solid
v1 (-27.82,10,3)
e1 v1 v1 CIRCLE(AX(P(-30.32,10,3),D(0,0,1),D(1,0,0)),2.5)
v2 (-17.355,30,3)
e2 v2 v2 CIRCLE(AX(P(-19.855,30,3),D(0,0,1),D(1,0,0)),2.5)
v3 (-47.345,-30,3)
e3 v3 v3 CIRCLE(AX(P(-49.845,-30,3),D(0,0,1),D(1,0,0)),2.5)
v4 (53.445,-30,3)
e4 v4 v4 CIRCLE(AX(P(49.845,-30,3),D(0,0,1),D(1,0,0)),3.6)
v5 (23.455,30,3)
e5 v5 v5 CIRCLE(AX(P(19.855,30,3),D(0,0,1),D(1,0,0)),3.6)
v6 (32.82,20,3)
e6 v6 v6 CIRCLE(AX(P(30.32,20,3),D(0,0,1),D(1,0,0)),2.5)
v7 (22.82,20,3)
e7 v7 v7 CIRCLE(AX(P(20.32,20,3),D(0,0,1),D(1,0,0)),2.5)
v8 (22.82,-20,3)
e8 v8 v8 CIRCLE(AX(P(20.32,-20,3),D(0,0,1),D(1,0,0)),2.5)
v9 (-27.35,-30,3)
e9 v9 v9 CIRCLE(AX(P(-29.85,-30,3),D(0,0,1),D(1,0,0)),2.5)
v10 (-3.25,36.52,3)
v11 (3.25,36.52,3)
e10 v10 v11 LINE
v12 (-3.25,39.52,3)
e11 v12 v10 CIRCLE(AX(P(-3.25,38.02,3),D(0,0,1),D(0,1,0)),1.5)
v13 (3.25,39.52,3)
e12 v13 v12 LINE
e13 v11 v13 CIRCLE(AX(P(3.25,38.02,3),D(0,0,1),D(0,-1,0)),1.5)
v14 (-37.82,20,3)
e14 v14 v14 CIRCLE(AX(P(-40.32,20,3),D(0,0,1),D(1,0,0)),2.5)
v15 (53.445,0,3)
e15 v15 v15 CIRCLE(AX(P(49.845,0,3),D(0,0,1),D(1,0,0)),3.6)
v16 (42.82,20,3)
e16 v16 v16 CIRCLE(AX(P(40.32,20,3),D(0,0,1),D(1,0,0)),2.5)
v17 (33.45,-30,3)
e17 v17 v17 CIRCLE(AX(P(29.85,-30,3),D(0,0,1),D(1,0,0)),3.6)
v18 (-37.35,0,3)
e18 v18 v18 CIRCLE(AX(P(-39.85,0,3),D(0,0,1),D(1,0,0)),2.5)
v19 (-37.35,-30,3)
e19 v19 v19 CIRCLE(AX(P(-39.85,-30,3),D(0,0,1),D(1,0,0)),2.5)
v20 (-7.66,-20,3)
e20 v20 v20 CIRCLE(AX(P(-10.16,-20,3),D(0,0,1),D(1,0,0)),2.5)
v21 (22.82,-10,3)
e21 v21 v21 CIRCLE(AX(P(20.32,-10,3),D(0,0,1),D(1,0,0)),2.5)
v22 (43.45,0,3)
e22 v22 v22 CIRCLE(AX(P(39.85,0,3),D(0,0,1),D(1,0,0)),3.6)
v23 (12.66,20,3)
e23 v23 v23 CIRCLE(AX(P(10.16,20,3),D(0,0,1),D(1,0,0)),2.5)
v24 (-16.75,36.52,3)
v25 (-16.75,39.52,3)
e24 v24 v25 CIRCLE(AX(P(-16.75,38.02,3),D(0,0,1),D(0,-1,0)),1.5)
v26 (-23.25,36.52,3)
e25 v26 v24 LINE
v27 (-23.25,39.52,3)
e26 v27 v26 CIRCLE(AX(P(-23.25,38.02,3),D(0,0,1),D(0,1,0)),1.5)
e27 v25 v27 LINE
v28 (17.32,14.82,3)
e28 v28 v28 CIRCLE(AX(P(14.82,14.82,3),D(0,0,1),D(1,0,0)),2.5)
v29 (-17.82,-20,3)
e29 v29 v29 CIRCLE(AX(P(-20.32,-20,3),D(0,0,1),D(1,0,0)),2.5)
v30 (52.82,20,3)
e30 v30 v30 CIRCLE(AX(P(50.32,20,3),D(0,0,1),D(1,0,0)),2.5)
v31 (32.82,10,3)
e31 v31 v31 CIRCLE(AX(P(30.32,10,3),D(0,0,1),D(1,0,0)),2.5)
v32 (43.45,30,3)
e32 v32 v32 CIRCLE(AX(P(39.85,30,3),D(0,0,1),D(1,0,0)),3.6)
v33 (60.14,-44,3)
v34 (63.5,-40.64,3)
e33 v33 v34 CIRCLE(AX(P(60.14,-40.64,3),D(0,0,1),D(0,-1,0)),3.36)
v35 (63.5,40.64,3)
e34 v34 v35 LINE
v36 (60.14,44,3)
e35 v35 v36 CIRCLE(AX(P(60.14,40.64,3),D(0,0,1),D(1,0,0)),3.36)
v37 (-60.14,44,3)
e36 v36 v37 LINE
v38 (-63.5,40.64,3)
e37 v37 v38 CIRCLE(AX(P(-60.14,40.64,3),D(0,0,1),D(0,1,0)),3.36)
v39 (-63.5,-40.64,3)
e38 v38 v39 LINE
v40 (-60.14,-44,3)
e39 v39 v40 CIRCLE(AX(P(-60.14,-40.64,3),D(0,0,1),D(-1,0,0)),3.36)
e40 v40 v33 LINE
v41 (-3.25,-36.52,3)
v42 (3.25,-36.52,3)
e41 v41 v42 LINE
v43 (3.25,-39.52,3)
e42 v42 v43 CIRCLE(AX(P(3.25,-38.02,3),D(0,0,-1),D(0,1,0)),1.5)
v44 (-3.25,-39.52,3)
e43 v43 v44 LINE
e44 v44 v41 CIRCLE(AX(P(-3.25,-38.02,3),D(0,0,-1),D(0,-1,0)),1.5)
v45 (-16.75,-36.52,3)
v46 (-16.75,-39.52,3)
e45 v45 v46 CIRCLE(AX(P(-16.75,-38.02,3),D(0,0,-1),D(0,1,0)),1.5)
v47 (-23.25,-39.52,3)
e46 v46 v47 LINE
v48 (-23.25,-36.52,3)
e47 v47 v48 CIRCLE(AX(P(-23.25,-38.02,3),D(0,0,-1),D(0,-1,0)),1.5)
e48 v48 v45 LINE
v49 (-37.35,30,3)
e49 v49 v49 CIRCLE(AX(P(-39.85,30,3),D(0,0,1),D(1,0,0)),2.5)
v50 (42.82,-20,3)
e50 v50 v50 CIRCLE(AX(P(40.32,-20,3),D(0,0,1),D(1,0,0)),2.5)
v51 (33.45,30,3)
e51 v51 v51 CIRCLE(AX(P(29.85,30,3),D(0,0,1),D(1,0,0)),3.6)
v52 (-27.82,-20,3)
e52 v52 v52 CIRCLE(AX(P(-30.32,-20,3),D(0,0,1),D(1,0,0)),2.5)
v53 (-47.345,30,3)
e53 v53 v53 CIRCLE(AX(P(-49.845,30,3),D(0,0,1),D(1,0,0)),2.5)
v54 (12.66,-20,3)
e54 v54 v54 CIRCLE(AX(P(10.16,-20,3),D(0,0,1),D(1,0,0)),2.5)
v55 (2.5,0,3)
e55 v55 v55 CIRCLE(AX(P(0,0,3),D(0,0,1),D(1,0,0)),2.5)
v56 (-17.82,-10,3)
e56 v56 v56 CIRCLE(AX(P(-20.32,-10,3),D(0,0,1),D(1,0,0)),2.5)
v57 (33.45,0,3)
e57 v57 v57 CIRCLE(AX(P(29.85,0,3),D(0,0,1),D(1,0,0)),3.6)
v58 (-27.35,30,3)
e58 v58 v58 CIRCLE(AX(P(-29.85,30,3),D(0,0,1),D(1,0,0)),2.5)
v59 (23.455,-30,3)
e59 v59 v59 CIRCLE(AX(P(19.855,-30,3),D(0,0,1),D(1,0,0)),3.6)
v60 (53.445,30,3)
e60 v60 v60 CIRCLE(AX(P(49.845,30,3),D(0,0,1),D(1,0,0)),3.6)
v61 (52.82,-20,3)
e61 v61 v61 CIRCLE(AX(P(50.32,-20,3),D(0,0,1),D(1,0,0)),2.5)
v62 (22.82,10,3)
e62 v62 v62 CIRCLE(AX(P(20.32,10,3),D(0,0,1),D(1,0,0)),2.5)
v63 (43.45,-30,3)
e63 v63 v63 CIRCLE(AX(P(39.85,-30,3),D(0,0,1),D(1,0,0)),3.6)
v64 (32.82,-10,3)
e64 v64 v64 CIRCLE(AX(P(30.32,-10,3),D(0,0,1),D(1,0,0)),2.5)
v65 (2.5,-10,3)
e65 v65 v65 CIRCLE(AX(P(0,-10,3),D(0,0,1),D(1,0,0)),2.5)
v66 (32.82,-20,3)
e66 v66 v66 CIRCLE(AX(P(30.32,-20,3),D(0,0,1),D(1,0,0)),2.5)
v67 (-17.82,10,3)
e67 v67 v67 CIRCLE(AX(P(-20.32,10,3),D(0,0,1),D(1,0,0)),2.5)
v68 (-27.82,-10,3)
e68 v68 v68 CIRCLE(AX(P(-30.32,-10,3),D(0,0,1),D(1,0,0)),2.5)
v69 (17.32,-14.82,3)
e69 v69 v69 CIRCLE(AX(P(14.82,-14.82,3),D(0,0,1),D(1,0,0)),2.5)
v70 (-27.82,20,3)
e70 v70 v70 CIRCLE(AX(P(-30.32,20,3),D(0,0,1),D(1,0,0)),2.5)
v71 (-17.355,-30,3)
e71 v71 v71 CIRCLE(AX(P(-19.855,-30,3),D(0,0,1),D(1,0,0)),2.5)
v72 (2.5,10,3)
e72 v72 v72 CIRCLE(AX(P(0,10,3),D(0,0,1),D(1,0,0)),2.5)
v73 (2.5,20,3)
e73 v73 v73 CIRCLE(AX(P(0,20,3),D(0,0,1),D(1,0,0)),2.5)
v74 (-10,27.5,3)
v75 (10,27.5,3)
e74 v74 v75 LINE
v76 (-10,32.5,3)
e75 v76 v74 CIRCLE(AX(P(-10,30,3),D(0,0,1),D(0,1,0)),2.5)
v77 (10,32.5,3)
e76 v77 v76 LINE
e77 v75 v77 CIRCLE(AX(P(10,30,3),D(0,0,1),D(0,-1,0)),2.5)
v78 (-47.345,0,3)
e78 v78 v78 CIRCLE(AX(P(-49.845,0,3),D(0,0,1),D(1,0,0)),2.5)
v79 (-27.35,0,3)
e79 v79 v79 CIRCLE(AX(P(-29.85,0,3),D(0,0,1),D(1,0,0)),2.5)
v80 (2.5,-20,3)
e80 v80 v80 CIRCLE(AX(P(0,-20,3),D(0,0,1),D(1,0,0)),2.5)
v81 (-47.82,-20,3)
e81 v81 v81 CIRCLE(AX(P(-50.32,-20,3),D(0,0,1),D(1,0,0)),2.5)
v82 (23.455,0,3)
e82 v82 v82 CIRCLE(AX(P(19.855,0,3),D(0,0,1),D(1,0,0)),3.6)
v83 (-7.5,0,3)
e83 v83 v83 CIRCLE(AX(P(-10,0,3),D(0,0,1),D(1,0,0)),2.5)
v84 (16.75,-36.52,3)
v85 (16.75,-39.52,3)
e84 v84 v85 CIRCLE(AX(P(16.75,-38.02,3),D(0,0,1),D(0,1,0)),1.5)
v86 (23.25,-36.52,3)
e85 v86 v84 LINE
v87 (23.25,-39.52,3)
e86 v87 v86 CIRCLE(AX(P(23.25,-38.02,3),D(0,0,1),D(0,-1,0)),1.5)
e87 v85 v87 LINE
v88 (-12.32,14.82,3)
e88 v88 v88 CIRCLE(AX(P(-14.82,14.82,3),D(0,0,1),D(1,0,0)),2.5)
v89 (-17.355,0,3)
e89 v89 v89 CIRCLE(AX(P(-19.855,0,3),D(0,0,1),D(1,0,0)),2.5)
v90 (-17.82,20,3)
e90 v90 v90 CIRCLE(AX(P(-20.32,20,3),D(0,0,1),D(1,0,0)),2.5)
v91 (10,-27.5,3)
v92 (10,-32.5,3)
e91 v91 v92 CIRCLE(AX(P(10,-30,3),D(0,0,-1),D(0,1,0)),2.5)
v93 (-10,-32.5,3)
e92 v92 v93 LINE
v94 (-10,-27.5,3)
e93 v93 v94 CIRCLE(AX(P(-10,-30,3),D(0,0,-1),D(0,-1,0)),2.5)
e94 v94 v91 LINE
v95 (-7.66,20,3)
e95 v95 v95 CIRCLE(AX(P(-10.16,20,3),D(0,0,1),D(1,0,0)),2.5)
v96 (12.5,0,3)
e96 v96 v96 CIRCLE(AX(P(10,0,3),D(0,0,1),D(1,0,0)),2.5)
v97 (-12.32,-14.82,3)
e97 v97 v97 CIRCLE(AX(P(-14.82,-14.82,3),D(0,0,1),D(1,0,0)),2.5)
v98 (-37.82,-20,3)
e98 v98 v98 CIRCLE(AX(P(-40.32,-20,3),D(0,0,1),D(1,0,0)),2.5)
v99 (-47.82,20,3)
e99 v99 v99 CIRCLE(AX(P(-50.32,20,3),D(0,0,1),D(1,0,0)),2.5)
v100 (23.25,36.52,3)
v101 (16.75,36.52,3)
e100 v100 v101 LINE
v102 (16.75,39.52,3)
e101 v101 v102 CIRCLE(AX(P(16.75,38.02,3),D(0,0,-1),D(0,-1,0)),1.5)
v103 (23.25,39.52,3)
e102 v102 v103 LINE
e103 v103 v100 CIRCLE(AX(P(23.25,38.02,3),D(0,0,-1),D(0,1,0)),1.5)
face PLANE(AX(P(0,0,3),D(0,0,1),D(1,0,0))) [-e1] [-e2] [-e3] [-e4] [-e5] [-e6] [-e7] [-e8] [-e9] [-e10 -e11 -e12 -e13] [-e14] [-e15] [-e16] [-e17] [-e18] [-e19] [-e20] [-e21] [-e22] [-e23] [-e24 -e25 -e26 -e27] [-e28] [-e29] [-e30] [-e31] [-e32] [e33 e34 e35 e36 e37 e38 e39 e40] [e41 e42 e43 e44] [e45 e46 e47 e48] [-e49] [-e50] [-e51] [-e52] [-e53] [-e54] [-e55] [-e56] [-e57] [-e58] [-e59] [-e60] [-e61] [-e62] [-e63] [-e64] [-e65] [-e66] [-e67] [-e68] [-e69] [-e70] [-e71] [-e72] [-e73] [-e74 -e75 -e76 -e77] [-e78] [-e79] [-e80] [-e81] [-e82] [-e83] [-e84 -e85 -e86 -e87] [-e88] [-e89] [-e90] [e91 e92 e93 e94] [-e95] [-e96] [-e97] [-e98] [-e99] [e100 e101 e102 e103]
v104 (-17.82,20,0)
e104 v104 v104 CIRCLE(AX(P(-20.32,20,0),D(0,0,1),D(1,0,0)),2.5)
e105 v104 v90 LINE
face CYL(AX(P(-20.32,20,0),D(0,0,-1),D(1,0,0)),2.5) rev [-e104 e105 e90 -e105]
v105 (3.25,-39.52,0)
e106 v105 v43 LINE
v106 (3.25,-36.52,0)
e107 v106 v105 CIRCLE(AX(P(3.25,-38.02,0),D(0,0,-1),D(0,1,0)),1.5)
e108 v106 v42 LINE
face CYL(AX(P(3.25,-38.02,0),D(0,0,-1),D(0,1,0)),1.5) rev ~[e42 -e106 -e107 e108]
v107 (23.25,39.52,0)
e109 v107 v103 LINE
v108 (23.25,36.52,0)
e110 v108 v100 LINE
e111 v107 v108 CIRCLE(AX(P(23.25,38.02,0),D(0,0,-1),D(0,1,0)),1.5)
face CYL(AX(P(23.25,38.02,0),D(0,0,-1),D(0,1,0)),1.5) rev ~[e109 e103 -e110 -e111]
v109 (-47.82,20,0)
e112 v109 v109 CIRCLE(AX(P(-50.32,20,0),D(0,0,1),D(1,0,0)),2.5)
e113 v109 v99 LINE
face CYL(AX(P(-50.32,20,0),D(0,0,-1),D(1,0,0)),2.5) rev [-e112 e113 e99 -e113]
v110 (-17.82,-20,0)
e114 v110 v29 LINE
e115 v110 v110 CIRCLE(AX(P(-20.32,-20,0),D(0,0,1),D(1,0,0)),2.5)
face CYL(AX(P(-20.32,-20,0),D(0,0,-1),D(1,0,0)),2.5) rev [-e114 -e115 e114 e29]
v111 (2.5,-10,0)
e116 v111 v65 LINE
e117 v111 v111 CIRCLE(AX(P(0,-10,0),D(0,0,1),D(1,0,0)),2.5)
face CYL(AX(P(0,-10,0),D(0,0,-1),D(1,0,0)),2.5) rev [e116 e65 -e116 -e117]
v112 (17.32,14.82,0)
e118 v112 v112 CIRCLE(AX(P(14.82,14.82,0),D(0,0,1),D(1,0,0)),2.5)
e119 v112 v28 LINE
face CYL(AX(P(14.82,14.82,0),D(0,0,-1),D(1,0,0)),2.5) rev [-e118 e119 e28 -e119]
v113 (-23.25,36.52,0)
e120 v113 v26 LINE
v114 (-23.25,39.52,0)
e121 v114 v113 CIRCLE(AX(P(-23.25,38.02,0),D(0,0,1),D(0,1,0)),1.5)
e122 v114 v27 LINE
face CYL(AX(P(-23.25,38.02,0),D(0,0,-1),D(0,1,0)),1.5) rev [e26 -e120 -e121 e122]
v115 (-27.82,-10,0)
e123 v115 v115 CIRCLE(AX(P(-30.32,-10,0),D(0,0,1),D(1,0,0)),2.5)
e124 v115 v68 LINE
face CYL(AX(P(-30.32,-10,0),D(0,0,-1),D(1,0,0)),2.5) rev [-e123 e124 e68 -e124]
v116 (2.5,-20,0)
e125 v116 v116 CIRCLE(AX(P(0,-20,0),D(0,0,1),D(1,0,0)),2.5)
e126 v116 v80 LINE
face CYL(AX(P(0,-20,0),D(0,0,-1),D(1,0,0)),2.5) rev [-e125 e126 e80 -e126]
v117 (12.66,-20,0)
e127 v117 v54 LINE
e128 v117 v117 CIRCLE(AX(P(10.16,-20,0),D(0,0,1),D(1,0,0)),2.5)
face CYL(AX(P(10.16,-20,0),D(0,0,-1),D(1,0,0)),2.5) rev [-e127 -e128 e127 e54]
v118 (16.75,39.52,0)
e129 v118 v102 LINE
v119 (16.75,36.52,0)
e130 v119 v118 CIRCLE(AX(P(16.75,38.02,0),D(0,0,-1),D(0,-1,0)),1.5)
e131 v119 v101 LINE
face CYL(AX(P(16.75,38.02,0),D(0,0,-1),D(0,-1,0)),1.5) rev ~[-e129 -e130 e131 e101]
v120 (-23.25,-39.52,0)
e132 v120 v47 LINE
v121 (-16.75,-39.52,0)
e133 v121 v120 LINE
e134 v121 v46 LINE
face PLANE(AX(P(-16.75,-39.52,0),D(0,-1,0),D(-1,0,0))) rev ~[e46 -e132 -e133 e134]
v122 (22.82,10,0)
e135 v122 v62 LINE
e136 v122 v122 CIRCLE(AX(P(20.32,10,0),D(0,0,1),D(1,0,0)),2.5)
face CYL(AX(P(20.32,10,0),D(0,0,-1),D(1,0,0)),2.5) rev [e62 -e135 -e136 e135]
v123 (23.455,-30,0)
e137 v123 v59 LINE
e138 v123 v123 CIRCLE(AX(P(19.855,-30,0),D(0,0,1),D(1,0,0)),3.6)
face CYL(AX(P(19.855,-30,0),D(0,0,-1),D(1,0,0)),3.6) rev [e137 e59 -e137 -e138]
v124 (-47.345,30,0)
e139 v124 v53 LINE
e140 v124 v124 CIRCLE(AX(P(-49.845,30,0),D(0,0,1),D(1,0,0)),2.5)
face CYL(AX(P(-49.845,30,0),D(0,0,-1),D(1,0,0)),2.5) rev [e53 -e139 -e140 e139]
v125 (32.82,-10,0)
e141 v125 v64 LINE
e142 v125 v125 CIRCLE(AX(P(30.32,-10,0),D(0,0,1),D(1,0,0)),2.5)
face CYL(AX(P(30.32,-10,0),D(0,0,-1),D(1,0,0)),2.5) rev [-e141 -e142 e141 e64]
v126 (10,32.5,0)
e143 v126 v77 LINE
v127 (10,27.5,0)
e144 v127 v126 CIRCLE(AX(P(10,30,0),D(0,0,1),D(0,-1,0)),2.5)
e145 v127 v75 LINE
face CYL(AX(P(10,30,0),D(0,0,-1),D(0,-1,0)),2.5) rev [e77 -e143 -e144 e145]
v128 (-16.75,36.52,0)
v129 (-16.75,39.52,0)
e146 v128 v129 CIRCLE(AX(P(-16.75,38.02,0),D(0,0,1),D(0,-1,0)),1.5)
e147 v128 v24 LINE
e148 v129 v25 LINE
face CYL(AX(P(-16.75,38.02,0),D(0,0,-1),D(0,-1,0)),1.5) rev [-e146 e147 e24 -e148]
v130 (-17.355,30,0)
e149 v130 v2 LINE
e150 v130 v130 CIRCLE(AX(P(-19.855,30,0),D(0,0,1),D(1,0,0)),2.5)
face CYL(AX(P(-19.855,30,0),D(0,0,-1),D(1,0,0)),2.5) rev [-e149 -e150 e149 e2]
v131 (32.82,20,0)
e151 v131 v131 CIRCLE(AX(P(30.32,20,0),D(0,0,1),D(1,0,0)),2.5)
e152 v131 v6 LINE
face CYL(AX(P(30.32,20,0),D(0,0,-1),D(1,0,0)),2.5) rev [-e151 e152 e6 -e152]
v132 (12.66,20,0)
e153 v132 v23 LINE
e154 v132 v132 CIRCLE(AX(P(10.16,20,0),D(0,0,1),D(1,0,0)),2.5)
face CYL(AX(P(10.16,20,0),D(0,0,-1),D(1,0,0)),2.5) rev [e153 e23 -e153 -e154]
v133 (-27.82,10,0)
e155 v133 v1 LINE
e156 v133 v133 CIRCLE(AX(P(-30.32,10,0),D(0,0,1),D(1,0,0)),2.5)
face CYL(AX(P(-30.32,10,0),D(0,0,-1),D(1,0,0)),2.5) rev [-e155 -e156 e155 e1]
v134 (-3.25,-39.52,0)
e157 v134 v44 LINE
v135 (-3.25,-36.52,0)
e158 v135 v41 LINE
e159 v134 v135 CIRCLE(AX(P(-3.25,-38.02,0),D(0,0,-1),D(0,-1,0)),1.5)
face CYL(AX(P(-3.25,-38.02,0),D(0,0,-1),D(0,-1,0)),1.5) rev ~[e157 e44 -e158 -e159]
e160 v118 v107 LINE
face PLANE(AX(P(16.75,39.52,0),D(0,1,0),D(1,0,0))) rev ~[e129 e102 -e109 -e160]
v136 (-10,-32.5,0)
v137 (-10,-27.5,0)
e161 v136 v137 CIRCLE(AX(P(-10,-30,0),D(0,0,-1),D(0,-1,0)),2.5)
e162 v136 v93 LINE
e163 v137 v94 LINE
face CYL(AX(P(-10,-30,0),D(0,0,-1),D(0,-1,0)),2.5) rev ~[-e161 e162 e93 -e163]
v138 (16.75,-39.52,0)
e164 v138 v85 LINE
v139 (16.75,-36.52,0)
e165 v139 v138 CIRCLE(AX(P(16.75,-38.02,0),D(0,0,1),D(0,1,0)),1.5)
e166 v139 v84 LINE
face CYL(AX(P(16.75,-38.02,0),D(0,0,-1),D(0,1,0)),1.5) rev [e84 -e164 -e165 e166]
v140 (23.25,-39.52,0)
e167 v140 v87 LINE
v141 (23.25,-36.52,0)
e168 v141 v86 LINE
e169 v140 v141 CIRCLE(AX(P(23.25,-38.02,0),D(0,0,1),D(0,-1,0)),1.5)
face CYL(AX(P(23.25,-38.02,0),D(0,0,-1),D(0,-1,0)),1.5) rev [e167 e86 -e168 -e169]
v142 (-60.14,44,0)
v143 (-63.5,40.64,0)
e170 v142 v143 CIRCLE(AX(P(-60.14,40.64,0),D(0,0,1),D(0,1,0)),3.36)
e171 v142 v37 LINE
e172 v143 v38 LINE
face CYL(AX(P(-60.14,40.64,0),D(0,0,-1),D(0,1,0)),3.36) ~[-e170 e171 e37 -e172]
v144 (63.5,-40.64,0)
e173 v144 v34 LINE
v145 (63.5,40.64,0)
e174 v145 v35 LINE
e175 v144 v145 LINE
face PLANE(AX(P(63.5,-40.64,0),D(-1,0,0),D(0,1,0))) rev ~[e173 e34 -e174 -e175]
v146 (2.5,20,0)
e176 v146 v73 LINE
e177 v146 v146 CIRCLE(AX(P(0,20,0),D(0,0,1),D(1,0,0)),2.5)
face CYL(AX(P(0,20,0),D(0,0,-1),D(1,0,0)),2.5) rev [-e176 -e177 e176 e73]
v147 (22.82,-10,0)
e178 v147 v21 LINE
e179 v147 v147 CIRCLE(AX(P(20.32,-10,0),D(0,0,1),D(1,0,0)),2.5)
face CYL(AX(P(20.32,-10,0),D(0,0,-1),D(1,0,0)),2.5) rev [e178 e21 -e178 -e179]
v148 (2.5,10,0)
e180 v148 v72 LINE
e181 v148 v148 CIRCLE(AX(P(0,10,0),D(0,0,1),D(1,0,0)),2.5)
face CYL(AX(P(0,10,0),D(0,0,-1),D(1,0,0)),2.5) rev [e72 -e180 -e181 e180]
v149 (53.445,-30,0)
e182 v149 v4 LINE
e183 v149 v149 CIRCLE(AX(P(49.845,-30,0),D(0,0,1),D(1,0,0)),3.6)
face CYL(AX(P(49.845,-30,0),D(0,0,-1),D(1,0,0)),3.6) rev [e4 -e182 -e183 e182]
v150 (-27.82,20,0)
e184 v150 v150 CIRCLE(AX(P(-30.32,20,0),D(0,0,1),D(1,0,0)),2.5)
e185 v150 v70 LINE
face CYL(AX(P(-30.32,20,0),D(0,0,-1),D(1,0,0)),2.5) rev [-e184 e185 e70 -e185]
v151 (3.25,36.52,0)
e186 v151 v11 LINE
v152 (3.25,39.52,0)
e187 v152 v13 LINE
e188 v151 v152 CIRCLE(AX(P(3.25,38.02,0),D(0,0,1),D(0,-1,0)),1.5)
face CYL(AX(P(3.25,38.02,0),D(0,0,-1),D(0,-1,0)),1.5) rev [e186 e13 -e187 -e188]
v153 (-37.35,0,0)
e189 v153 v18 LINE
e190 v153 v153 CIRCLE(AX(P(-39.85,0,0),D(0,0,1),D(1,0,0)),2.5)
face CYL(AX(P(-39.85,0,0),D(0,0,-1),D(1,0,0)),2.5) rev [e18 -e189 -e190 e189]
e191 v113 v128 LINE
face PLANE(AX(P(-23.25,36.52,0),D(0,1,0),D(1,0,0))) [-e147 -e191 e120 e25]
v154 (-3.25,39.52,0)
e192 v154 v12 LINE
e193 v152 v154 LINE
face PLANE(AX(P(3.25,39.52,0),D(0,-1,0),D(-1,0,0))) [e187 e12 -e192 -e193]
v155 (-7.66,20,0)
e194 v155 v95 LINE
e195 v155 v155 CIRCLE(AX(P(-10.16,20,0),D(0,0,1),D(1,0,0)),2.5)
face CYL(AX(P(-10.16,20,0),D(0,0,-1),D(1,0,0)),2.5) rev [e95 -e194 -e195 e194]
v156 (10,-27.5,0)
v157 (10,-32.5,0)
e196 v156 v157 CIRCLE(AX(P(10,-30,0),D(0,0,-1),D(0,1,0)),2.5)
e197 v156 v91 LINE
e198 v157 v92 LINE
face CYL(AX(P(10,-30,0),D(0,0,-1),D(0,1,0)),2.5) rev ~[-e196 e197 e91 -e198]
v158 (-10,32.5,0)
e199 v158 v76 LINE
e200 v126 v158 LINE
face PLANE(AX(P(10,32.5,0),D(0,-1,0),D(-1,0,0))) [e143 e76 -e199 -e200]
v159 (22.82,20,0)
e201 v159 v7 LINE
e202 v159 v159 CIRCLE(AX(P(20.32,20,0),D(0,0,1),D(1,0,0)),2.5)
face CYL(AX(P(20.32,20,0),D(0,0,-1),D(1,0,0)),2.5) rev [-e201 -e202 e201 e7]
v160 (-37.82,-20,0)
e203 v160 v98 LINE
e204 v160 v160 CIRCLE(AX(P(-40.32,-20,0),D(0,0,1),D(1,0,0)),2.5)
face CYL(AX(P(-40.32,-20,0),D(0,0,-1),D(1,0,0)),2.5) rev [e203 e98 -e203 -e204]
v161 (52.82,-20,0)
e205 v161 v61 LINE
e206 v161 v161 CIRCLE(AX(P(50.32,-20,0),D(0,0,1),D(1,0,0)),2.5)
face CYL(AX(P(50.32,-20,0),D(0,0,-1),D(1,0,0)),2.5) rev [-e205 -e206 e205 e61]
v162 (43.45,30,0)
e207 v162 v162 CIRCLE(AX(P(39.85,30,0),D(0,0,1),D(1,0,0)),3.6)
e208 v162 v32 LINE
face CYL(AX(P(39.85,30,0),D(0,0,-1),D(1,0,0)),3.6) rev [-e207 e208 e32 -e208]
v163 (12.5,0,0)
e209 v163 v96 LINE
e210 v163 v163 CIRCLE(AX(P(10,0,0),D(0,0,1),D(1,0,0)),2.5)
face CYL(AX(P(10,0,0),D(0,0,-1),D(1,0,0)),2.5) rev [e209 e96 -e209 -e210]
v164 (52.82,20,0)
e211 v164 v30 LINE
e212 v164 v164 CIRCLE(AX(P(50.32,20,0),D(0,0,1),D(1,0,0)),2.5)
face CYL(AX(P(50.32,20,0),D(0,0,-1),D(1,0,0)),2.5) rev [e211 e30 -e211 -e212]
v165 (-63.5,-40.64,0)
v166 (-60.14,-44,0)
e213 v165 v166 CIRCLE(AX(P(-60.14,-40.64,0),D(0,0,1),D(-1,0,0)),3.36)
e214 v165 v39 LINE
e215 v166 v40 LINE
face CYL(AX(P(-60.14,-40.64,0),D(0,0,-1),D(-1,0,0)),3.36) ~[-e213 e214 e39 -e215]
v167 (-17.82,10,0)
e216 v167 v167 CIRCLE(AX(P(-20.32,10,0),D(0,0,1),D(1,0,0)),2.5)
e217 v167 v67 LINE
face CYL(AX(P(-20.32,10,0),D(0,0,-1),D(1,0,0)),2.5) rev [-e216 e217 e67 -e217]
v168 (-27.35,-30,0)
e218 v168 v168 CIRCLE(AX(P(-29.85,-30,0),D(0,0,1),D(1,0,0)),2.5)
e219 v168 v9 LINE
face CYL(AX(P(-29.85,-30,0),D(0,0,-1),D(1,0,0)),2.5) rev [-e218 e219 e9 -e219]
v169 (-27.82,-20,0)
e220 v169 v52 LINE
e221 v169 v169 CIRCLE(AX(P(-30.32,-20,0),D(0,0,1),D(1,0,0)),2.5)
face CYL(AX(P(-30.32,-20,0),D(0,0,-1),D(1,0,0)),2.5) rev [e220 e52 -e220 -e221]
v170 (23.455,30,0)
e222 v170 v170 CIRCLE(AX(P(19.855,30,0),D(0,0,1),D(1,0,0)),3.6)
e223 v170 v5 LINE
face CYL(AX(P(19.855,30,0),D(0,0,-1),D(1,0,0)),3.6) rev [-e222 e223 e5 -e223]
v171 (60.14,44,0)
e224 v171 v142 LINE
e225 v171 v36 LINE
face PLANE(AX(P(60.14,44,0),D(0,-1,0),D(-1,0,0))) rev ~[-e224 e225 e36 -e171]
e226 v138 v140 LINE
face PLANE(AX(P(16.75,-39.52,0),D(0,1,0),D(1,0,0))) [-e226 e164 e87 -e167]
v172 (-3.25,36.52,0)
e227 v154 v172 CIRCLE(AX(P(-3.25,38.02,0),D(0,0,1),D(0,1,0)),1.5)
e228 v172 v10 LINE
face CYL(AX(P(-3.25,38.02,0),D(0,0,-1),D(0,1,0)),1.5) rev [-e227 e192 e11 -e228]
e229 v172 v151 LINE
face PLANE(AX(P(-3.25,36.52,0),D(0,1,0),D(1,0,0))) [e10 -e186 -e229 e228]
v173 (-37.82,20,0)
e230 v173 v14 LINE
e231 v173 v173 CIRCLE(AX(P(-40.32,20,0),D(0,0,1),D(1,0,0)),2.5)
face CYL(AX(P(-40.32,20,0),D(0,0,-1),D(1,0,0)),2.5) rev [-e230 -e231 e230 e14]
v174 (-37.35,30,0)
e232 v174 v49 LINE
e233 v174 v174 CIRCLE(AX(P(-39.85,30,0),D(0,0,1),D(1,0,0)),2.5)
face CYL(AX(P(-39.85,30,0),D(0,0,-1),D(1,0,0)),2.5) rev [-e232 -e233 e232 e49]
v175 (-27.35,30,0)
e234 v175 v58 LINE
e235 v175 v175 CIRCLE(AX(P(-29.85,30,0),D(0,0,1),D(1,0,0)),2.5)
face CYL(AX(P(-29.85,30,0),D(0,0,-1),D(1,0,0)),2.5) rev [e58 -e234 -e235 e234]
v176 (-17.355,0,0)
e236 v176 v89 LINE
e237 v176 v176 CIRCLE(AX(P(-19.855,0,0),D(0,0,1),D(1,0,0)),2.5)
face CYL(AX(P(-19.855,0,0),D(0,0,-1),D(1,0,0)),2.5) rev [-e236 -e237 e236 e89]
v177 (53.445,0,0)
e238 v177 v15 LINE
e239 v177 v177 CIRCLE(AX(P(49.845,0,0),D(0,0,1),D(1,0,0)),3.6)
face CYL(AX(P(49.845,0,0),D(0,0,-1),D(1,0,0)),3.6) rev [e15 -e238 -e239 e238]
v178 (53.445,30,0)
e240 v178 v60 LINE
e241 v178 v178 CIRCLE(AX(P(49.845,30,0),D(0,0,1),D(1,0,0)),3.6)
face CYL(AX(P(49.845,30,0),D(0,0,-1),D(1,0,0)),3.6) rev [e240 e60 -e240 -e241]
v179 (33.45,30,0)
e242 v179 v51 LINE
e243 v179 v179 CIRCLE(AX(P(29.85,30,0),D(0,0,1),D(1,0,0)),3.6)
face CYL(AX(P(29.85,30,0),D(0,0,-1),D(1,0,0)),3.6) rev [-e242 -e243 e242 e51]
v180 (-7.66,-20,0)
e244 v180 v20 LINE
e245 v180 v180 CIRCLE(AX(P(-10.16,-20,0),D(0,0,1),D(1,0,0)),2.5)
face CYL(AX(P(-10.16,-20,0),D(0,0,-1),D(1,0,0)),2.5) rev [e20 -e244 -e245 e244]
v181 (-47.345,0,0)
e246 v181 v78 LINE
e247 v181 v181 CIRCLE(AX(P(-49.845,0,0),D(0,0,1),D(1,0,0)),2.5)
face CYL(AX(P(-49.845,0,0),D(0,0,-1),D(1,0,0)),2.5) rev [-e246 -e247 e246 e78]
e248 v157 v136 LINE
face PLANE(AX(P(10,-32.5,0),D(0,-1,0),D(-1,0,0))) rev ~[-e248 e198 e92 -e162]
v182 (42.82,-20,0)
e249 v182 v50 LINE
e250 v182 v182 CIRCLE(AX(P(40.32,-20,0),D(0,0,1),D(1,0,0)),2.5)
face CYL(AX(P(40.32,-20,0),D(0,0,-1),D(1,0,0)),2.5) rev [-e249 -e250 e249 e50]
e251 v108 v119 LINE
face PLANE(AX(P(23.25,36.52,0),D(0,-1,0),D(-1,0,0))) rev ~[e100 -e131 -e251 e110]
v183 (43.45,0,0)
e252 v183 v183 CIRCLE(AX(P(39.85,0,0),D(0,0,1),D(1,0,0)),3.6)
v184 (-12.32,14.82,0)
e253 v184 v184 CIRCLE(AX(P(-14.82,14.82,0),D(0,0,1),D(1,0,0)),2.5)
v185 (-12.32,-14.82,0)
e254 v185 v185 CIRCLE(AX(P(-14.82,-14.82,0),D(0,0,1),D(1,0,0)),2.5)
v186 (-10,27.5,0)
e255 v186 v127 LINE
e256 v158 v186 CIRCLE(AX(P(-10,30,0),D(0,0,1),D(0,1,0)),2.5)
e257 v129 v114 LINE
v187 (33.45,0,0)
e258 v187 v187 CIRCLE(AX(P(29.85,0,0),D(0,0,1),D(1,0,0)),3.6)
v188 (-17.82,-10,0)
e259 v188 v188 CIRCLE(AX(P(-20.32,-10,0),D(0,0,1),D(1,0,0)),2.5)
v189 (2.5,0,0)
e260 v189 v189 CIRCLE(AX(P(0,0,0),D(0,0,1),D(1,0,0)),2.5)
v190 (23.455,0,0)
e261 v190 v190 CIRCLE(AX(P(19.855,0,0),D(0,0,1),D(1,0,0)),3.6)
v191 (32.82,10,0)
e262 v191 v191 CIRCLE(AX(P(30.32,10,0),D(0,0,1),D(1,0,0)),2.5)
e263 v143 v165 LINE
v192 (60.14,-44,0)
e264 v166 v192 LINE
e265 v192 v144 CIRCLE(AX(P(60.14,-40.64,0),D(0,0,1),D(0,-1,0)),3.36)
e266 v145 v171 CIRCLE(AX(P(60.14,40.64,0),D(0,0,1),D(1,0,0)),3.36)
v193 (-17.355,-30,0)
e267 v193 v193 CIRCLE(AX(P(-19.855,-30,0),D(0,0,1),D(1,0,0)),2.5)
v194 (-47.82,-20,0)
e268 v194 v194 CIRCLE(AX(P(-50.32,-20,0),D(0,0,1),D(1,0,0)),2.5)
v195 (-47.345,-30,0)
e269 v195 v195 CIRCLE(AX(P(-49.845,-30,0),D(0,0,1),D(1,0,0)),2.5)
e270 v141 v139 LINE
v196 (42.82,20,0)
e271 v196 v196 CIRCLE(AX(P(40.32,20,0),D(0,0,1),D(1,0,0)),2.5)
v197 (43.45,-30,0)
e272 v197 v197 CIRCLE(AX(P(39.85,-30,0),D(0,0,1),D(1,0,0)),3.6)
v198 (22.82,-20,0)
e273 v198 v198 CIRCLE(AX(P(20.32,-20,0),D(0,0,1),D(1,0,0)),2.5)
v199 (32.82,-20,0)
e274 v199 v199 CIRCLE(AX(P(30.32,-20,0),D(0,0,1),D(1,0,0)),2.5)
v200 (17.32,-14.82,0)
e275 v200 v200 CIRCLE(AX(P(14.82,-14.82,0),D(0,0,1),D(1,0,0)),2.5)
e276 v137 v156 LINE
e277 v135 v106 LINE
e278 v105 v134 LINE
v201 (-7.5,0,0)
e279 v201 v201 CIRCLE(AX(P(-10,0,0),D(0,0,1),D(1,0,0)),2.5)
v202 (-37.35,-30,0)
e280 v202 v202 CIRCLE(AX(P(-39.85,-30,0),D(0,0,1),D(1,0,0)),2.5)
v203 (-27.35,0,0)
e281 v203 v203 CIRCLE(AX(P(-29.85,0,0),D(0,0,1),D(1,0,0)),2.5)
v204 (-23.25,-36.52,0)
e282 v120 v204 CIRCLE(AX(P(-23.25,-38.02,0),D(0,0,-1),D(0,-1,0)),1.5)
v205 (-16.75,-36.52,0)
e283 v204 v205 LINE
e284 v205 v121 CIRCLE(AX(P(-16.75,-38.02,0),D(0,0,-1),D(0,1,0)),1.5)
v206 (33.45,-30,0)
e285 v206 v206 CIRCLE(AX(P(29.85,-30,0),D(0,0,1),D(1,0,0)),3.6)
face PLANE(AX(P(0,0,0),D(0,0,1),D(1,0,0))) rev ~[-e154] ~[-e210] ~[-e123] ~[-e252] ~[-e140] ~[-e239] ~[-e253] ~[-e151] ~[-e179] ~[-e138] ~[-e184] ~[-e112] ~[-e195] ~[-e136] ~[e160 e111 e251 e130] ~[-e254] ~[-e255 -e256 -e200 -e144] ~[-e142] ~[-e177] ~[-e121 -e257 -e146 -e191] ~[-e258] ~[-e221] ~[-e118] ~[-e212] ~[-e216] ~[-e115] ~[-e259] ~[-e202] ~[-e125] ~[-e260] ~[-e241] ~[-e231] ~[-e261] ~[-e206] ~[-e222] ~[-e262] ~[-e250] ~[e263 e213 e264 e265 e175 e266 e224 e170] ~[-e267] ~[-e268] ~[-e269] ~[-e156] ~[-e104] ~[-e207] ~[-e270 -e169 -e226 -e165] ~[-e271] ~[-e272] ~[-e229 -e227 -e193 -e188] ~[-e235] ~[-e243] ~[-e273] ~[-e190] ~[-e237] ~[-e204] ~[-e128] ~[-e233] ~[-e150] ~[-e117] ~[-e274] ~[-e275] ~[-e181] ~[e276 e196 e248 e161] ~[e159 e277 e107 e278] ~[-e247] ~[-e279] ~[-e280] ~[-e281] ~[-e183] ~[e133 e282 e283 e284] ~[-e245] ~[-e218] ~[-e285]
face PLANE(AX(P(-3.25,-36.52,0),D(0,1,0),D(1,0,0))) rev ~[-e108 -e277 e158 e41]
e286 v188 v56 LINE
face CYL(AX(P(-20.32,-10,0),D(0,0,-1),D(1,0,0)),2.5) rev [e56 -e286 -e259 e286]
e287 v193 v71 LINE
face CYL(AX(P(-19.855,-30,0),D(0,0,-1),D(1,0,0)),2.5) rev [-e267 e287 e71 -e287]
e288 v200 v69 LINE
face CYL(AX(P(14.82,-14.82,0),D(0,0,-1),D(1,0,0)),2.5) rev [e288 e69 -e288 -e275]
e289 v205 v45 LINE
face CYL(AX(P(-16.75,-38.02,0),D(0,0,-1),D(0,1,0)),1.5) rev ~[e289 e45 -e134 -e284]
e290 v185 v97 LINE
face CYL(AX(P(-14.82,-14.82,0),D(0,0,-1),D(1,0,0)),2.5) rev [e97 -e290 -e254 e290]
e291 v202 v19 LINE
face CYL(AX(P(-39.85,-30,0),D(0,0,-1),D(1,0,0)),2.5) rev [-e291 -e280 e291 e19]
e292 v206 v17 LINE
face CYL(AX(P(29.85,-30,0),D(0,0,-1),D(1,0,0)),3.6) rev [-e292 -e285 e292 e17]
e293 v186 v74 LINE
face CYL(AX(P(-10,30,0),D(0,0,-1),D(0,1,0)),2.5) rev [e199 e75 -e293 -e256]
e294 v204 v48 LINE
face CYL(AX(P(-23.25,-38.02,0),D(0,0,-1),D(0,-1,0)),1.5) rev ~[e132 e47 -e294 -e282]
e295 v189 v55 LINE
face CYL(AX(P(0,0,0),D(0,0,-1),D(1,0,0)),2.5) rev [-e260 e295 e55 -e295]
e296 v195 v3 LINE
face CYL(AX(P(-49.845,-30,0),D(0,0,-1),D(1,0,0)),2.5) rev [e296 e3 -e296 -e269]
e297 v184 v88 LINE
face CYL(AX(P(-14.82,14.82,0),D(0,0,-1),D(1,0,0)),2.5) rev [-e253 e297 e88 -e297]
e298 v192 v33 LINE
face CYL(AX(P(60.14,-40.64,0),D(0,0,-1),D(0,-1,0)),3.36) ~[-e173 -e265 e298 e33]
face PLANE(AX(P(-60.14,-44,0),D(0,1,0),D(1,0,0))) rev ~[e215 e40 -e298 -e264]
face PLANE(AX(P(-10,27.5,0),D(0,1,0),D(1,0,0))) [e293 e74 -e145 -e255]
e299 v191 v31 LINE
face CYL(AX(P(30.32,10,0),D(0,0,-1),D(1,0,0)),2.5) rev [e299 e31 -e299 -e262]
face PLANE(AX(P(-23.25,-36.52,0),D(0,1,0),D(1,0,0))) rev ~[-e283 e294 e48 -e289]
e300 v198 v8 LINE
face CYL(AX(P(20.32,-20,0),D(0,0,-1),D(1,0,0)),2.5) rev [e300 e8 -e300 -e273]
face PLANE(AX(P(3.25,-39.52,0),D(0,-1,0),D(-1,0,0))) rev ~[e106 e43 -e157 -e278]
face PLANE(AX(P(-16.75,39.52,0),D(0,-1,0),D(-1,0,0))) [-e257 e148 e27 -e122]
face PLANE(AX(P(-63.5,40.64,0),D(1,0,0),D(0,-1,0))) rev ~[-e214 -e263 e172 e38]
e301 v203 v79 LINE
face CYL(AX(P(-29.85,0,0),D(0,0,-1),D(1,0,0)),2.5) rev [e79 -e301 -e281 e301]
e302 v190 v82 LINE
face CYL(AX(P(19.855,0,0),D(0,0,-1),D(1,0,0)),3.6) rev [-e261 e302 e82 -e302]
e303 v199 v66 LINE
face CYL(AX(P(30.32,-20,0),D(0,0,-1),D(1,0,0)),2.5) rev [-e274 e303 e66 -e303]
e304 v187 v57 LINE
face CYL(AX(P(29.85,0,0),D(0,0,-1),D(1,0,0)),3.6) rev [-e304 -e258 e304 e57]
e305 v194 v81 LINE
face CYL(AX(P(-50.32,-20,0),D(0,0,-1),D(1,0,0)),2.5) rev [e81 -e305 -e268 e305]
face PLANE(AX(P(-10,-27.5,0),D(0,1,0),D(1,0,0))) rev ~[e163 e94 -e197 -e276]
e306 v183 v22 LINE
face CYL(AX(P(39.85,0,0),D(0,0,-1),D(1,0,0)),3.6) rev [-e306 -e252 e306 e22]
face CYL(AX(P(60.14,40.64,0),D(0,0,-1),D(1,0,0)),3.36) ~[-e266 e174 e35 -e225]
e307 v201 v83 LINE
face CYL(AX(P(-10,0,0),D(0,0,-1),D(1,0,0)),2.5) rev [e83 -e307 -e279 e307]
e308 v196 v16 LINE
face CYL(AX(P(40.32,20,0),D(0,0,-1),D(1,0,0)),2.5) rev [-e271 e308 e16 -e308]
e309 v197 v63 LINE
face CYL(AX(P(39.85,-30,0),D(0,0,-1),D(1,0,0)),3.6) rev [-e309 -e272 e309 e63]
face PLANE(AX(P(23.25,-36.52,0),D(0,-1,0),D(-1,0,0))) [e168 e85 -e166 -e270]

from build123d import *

# Parameters (mm, degrees)
SKETCH1_R           = 2.5
SKETCH1_R_2         = 3.6
BOSS_EXTRUDE1_DEPTH = 3


with BuildPart() as part:
    # Sketch1 → Boss-Extrude1 (new body)
    with BuildSketch(Plane.XY):
        with BuildLine():
            Line((-60.14, -44), (60.14, -44))
            ThreePointArc((60.14, -44), (62.515878785, -43.015878785), (63.5, -40.64))
            Line((63.5, -40.64), (63.5, 40.64))
            ThreePointArc((63.5, 40.64), (62.515878785, 43.015878785), (60.14, 44))
            Line((60.14, 44), (-60.14, 44))
            ThreePointArc((-60.14, 44), (-62.515878785, 43.015878785), (-63.5, 40.64))
            Line((-63.5, 40.64), (-63.5, -40.64))
            ThreePointArc((-63.5, -40.64), (-62.515878785, -43.015878785), (-60.14, -44))
        make_face()
        Circle(SKETCH1_R, mode=Mode.SUBTRACT)
        with Locations((-49.845, 0)):
            Circle(SKETCH1_R, mode=Mode.SUBTRACT)
        with Locations((49.845, 0)):
            Circle(SKETCH1_R_2, mode=Mode.SUBTRACT)
        with Locations((-19.855, -30)):
            Circle(SKETCH1_R, mode=Mode.SUBTRACT)
        with Locations((19.855, -30)):
            Circle(SKETCH1_R_2, mode=Mode.SUBTRACT)
        with Locations((-29.85, -30)):
            Circle(SKETCH1_R, mode=Mode.SUBTRACT)
        with Locations((-39.85, -30)):
            Circle(SKETCH1_R, mode=Mode.SUBTRACT)
        with Locations((-49.845, -30)):
            Circle(SKETCH1_R, mode=Mode.SUBTRACT)
        with Locations((49.845, -30)):
            Circle(SKETCH1_R_2, mode=Mode.SUBTRACT)
        with Locations((39.85, -30)):
            Circle(SKETCH1_R_2, mode=Mode.SUBTRACT)
        with Locations((29.85, -30)):
            Circle(SKETCH1_R_2, mode=Mode.SUBTRACT)
        with Locations((49.845, 30)):
            Circle(SKETCH1_R_2, mode=Mode.SUBTRACT)
        with Locations((39.85, 30)):
            Circle(SKETCH1_R_2, mode=Mode.SUBTRACT)
        with Locations((29.85, 30)):
            Circle(SKETCH1_R_2, mode=Mode.SUBTRACT)
        with Locations((19.855, 30)):
            Circle(SKETCH1_R_2, mode=Mode.SUBTRACT)
        with Locations((-19.855, 30)):
            Circle(SKETCH1_R, mode=Mode.SUBTRACT)
        with Locations((-29.85, 30)):
            Circle(SKETCH1_R, mode=Mode.SUBTRACT)
        with Locations((-39.85, 30)):
            Circle(SKETCH1_R, mode=Mode.SUBTRACT)
        with Locations((-49.845, 30)):
            Circle(SKETCH1_R, mode=Mode.SUBTRACT)
        with Locations((-50.32, -20)):
            Circle(SKETCH1_R, mode=Mode.SUBTRACT)
        with Locations((-40.32, -20)):
            Circle(SKETCH1_R, mode=Mode.SUBTRACT)
        with Locations((-30.32, -20)):
            Circle(SKETCH1_R, mode=Mode.SUBTRACT)
        with Locations((-20.32, -20)):
            Circle(SKETCH1_R, mode=Mode.SUBTRACT)
        with Locations((50.32, -20)):
            Circle(SKETCH1_R, mode=Mode.SUBTRACT)
        with Locations((40.32, -20)):
            Circle(SKETCH1_R, mode=Mode.SUBTRACT)
        with Locations((30.32, -20)):
            Circle(SKETCH1_R, mode=Mode.SUBTRACT)
        with Locations((20.32, -20)):
            Circle(SKETCH1_R, mode=Mode.SUBTRACT)
        with Locations((50.32, 20)):
            Circle(SKETCH1_R, mode=Mode.SUBTRACT)
        with Locations((40.32, 20)):
            Circle(SKETCH1_R, mode=Mode.SUBTRACT)
        with Locations((30.32, 20)):
            Circle(SKETCH1_R, mode=Mode.SUBTRACT)
        with Locations((20.32, 20)):
            Circle(SKETCH1_R, mode=Mode.SUBTRACT)
        with Locations((-20.32, 20)):
            Circle(SKETCH1_R, mode=Mode.SUBTRACT)
        with Locations((-30.32, 20)):
            Circle(SKETCH1_R, mode=Mode.SUBTRACT)
        with Locations((-40.32, 20)):
            Circle(SKETCH1_R, mode=Mode.SUBTRACT)
        with Locations((-50.32, 20)):
            Circle(SKETCH1_R, mode=Mode.SUBTRACT)
        with Locations((-39.85, 0)):
            Circle(SKETCH1_R, mode=Mode.SUBTRACT)
        with Locations((-29.85, 0)):
            Circle(SKETCH1_R, mode=Mode.SUBTRACT)
        with Locations((-19.855, 0)):
            Circle(SKETCH1_R, mode=Mode.SUBTRACT)
        with Locations((39.85, 0)):
            Circle(SKETCH1_R_2, mode=Mode.SUBTRACT)
        with Locations((29.85, 0)):
            Circle(SKETCH1_R_2, mode=Mode.SUBTRACT)
        with Locations((19.855, 0)):
            Circle(SKETCH1_R_2, mode=Mode.SUBTRACT)
        with Locations((0, -20)):
            Circle(SKETCH1_R, mode=Mode.SUBTRACT)
        with Locations((0, 20)):
            Circle(SKETCH1_R, mode=Mode.SUBTRACT)
        with Locations((-10.16, -20)):
            Circle(SKETCH1_R, mode=Mode.SUBTRACT)
        with Locations((10.16, -20)):
            Circle(SKETCH1_R, mode=Mode.SUBTRACT)
        with Locations((10.16, 20)):
            Circle(SKETCH1_R, mode=Mode.SUBTRACT)
        with Locations((-10.16, 20)):
            Circle(SKETCH1_R, mode=Mode.SUBTRACT)
        with Locations((-10, 0)):
            Circle(SKETCH1_R, mode=Mode.SUBTRACT)
        with Locations((10, 0)):
            Circle(SKETCH1_R, mode=Mode.SUBTRACT)
        with Locations((0, -10)):
            Circle(SKETCH1_R, mode=Mode.SUBTRACT)
        with Locations((0, 10)):
            Circle(SKETCH1_R, mode=Mode.SUBTRACT)
        with Locations((-30.32, -10)):
            Circle(SKETCH1_R, mode=Mode.SUBTRACT)
        with Locations((-20.32, -10)):
            Circle(SKETCH1_R, mode=Mode.SUBTRACT)
        with Locations((30.32, -10)):
            Circle(SKETCH1_R, mode=Mode.SUBTRACT)
        with Locations((20.32, -10)):
            Circle(SKETCH1_R, mode=Mode.SUBTRACT)
        with Locations((30.32, 10)):
            Circle(SKETCH1_R, mode=Mode.SUBTRACT)
        with Locations((20.32, 10)):
            Circle(SKETCH1_R, mode=Mode.SUBTRACT)
        with Locations((-30.32, 10)):
            Circle(SKETCH1_R, mode=Mode.SUBTRACT)
        with Locations((-20.32, 10)):
            Circle(SKETCH1_R, mode=Mode.SUBTRACT)
        with Locations((-14.82, -14.82)):
            Circle(SKETCH1_R, mode=Mode.SUBTRACT)
        with Locations((14.82, -14.82)):
            Circle(SKETCH1_R, mode=Mode.SUBTRACT)
        with Locations((14.82, 14.82)):
            Circle(SKETCH1_R, mode=Mode.SUBTRACT)
        with Locations((-14.82, 14.82)):
            Circle(SKETCH1_R, mode=Mode.SUBTRACT)
        with BuildLine():
            Line((-10, -27.5), (10, -27.5))
            ThreePointArc((10, -27.5), (12.5, -30), (10, -32.5))
            Line((10, -32.5), (-10, -32.5))
            ThreePointArc((-10, -32.5), (-12.5, -30), (-10, -27.5))
        make_face(mode=Mode.SUBTRACT)
        with BuildLine():
            Line((-10, 27.5), (10, 27.5))
            ThreePointArc((10, 27.5), (12.5, 30), (10, 32.5))
            Line((10, 32.5), (-10, 32.5))
            ThreePointArc((-10, 32.5), (-12.5, 30), (-10, 27.5))
        make_face(mode=Mode.SUBTRACT)
        with BuildLine():
            Line((-3.25, -36.52), (3.25, -36.52))
            ThreePointArc((3.25, -36.52), (4.75, -38.02), (3.25, -39.52))
            Line((3.25, -39.52), (-3.25, -39.52))
            ThreePointArc((-3.25, -39.52), (-4.75, -38.02), (-3.25, -36.52))
        make_face(mode=Mode.SUBTRACT)
        with BuildLine():
            Line((-23.25, -36.52), (-16.75, -36.52))
            ThreePointArc((-16.75, -36.52), (-15.25, -38.02), (-16.75, -39.52))
            Line((-16.75, -39.52), (-23.25, -39.52))
            ThreePointArc((-23.25, -39.52), (-24.75, -38.02), (-23.25, -36.52))
        make_face(mode=Mode.SUBTRACT)
        with BuildLine():
            Line((23.25, -36.52), (16.75, -36.52))
            ThreePointArc((16.75, -36.52), (15.25, -38.02), (16.75, -39.52))
            Line((16.75, -39.52), (23.25, -39.52))
            ThreePointArc((23.25, -39.52), (24.75, -38.02), (23.25, -36.52))
        make_face(mode=Mode.SUBTRACT)
        with BuildLine():
            Line((-23.25, 36.52), (-16.75, 36.52))
            ThreePointArc((-16.75, 36.52), (-15.25, 38.02), (-16.75, 39.52))
            Line((-16.75, 39.52), (-23.25, 39.52))
            ThreePointArc((-23.25, 39.52), (-24.75, 38.02), (-23.25, 36.52))
        make_face(mode=Mode.SUBTRACT)
        with BuildLine():
            Line((-3.25, 36.52), (3.25, 36.52))
            ThreePointArc((3.25, 36.52), (4.75, 38.02), (3.25, 39.52))
            Line((3.25, 39.52), (-3.25, 39.52))
            ThreePointArc((-3.25, 39.52), (-4.75, 38.02), (-3.25, 36.52))
        make_face(mode=Mode.SUBTRACT)
        with BuildLine():
            Line((23.25, 36.52), (16.75, 36.52))
            ThreePointArc((16.75, 36.52), (15.25, 38.02), (16.75, 39.52))
            Line((16.75, 39.52), (23.25, 39.52))
            ThreePointArc((23.25, 39.52), (24.75, 38.02), (23.25, 36.52))
        make_face(mode=Mode.SUBTRACT)
    extrude(amount=BOSS_EXTRUDE1_DEPTH)


solid = part.part
